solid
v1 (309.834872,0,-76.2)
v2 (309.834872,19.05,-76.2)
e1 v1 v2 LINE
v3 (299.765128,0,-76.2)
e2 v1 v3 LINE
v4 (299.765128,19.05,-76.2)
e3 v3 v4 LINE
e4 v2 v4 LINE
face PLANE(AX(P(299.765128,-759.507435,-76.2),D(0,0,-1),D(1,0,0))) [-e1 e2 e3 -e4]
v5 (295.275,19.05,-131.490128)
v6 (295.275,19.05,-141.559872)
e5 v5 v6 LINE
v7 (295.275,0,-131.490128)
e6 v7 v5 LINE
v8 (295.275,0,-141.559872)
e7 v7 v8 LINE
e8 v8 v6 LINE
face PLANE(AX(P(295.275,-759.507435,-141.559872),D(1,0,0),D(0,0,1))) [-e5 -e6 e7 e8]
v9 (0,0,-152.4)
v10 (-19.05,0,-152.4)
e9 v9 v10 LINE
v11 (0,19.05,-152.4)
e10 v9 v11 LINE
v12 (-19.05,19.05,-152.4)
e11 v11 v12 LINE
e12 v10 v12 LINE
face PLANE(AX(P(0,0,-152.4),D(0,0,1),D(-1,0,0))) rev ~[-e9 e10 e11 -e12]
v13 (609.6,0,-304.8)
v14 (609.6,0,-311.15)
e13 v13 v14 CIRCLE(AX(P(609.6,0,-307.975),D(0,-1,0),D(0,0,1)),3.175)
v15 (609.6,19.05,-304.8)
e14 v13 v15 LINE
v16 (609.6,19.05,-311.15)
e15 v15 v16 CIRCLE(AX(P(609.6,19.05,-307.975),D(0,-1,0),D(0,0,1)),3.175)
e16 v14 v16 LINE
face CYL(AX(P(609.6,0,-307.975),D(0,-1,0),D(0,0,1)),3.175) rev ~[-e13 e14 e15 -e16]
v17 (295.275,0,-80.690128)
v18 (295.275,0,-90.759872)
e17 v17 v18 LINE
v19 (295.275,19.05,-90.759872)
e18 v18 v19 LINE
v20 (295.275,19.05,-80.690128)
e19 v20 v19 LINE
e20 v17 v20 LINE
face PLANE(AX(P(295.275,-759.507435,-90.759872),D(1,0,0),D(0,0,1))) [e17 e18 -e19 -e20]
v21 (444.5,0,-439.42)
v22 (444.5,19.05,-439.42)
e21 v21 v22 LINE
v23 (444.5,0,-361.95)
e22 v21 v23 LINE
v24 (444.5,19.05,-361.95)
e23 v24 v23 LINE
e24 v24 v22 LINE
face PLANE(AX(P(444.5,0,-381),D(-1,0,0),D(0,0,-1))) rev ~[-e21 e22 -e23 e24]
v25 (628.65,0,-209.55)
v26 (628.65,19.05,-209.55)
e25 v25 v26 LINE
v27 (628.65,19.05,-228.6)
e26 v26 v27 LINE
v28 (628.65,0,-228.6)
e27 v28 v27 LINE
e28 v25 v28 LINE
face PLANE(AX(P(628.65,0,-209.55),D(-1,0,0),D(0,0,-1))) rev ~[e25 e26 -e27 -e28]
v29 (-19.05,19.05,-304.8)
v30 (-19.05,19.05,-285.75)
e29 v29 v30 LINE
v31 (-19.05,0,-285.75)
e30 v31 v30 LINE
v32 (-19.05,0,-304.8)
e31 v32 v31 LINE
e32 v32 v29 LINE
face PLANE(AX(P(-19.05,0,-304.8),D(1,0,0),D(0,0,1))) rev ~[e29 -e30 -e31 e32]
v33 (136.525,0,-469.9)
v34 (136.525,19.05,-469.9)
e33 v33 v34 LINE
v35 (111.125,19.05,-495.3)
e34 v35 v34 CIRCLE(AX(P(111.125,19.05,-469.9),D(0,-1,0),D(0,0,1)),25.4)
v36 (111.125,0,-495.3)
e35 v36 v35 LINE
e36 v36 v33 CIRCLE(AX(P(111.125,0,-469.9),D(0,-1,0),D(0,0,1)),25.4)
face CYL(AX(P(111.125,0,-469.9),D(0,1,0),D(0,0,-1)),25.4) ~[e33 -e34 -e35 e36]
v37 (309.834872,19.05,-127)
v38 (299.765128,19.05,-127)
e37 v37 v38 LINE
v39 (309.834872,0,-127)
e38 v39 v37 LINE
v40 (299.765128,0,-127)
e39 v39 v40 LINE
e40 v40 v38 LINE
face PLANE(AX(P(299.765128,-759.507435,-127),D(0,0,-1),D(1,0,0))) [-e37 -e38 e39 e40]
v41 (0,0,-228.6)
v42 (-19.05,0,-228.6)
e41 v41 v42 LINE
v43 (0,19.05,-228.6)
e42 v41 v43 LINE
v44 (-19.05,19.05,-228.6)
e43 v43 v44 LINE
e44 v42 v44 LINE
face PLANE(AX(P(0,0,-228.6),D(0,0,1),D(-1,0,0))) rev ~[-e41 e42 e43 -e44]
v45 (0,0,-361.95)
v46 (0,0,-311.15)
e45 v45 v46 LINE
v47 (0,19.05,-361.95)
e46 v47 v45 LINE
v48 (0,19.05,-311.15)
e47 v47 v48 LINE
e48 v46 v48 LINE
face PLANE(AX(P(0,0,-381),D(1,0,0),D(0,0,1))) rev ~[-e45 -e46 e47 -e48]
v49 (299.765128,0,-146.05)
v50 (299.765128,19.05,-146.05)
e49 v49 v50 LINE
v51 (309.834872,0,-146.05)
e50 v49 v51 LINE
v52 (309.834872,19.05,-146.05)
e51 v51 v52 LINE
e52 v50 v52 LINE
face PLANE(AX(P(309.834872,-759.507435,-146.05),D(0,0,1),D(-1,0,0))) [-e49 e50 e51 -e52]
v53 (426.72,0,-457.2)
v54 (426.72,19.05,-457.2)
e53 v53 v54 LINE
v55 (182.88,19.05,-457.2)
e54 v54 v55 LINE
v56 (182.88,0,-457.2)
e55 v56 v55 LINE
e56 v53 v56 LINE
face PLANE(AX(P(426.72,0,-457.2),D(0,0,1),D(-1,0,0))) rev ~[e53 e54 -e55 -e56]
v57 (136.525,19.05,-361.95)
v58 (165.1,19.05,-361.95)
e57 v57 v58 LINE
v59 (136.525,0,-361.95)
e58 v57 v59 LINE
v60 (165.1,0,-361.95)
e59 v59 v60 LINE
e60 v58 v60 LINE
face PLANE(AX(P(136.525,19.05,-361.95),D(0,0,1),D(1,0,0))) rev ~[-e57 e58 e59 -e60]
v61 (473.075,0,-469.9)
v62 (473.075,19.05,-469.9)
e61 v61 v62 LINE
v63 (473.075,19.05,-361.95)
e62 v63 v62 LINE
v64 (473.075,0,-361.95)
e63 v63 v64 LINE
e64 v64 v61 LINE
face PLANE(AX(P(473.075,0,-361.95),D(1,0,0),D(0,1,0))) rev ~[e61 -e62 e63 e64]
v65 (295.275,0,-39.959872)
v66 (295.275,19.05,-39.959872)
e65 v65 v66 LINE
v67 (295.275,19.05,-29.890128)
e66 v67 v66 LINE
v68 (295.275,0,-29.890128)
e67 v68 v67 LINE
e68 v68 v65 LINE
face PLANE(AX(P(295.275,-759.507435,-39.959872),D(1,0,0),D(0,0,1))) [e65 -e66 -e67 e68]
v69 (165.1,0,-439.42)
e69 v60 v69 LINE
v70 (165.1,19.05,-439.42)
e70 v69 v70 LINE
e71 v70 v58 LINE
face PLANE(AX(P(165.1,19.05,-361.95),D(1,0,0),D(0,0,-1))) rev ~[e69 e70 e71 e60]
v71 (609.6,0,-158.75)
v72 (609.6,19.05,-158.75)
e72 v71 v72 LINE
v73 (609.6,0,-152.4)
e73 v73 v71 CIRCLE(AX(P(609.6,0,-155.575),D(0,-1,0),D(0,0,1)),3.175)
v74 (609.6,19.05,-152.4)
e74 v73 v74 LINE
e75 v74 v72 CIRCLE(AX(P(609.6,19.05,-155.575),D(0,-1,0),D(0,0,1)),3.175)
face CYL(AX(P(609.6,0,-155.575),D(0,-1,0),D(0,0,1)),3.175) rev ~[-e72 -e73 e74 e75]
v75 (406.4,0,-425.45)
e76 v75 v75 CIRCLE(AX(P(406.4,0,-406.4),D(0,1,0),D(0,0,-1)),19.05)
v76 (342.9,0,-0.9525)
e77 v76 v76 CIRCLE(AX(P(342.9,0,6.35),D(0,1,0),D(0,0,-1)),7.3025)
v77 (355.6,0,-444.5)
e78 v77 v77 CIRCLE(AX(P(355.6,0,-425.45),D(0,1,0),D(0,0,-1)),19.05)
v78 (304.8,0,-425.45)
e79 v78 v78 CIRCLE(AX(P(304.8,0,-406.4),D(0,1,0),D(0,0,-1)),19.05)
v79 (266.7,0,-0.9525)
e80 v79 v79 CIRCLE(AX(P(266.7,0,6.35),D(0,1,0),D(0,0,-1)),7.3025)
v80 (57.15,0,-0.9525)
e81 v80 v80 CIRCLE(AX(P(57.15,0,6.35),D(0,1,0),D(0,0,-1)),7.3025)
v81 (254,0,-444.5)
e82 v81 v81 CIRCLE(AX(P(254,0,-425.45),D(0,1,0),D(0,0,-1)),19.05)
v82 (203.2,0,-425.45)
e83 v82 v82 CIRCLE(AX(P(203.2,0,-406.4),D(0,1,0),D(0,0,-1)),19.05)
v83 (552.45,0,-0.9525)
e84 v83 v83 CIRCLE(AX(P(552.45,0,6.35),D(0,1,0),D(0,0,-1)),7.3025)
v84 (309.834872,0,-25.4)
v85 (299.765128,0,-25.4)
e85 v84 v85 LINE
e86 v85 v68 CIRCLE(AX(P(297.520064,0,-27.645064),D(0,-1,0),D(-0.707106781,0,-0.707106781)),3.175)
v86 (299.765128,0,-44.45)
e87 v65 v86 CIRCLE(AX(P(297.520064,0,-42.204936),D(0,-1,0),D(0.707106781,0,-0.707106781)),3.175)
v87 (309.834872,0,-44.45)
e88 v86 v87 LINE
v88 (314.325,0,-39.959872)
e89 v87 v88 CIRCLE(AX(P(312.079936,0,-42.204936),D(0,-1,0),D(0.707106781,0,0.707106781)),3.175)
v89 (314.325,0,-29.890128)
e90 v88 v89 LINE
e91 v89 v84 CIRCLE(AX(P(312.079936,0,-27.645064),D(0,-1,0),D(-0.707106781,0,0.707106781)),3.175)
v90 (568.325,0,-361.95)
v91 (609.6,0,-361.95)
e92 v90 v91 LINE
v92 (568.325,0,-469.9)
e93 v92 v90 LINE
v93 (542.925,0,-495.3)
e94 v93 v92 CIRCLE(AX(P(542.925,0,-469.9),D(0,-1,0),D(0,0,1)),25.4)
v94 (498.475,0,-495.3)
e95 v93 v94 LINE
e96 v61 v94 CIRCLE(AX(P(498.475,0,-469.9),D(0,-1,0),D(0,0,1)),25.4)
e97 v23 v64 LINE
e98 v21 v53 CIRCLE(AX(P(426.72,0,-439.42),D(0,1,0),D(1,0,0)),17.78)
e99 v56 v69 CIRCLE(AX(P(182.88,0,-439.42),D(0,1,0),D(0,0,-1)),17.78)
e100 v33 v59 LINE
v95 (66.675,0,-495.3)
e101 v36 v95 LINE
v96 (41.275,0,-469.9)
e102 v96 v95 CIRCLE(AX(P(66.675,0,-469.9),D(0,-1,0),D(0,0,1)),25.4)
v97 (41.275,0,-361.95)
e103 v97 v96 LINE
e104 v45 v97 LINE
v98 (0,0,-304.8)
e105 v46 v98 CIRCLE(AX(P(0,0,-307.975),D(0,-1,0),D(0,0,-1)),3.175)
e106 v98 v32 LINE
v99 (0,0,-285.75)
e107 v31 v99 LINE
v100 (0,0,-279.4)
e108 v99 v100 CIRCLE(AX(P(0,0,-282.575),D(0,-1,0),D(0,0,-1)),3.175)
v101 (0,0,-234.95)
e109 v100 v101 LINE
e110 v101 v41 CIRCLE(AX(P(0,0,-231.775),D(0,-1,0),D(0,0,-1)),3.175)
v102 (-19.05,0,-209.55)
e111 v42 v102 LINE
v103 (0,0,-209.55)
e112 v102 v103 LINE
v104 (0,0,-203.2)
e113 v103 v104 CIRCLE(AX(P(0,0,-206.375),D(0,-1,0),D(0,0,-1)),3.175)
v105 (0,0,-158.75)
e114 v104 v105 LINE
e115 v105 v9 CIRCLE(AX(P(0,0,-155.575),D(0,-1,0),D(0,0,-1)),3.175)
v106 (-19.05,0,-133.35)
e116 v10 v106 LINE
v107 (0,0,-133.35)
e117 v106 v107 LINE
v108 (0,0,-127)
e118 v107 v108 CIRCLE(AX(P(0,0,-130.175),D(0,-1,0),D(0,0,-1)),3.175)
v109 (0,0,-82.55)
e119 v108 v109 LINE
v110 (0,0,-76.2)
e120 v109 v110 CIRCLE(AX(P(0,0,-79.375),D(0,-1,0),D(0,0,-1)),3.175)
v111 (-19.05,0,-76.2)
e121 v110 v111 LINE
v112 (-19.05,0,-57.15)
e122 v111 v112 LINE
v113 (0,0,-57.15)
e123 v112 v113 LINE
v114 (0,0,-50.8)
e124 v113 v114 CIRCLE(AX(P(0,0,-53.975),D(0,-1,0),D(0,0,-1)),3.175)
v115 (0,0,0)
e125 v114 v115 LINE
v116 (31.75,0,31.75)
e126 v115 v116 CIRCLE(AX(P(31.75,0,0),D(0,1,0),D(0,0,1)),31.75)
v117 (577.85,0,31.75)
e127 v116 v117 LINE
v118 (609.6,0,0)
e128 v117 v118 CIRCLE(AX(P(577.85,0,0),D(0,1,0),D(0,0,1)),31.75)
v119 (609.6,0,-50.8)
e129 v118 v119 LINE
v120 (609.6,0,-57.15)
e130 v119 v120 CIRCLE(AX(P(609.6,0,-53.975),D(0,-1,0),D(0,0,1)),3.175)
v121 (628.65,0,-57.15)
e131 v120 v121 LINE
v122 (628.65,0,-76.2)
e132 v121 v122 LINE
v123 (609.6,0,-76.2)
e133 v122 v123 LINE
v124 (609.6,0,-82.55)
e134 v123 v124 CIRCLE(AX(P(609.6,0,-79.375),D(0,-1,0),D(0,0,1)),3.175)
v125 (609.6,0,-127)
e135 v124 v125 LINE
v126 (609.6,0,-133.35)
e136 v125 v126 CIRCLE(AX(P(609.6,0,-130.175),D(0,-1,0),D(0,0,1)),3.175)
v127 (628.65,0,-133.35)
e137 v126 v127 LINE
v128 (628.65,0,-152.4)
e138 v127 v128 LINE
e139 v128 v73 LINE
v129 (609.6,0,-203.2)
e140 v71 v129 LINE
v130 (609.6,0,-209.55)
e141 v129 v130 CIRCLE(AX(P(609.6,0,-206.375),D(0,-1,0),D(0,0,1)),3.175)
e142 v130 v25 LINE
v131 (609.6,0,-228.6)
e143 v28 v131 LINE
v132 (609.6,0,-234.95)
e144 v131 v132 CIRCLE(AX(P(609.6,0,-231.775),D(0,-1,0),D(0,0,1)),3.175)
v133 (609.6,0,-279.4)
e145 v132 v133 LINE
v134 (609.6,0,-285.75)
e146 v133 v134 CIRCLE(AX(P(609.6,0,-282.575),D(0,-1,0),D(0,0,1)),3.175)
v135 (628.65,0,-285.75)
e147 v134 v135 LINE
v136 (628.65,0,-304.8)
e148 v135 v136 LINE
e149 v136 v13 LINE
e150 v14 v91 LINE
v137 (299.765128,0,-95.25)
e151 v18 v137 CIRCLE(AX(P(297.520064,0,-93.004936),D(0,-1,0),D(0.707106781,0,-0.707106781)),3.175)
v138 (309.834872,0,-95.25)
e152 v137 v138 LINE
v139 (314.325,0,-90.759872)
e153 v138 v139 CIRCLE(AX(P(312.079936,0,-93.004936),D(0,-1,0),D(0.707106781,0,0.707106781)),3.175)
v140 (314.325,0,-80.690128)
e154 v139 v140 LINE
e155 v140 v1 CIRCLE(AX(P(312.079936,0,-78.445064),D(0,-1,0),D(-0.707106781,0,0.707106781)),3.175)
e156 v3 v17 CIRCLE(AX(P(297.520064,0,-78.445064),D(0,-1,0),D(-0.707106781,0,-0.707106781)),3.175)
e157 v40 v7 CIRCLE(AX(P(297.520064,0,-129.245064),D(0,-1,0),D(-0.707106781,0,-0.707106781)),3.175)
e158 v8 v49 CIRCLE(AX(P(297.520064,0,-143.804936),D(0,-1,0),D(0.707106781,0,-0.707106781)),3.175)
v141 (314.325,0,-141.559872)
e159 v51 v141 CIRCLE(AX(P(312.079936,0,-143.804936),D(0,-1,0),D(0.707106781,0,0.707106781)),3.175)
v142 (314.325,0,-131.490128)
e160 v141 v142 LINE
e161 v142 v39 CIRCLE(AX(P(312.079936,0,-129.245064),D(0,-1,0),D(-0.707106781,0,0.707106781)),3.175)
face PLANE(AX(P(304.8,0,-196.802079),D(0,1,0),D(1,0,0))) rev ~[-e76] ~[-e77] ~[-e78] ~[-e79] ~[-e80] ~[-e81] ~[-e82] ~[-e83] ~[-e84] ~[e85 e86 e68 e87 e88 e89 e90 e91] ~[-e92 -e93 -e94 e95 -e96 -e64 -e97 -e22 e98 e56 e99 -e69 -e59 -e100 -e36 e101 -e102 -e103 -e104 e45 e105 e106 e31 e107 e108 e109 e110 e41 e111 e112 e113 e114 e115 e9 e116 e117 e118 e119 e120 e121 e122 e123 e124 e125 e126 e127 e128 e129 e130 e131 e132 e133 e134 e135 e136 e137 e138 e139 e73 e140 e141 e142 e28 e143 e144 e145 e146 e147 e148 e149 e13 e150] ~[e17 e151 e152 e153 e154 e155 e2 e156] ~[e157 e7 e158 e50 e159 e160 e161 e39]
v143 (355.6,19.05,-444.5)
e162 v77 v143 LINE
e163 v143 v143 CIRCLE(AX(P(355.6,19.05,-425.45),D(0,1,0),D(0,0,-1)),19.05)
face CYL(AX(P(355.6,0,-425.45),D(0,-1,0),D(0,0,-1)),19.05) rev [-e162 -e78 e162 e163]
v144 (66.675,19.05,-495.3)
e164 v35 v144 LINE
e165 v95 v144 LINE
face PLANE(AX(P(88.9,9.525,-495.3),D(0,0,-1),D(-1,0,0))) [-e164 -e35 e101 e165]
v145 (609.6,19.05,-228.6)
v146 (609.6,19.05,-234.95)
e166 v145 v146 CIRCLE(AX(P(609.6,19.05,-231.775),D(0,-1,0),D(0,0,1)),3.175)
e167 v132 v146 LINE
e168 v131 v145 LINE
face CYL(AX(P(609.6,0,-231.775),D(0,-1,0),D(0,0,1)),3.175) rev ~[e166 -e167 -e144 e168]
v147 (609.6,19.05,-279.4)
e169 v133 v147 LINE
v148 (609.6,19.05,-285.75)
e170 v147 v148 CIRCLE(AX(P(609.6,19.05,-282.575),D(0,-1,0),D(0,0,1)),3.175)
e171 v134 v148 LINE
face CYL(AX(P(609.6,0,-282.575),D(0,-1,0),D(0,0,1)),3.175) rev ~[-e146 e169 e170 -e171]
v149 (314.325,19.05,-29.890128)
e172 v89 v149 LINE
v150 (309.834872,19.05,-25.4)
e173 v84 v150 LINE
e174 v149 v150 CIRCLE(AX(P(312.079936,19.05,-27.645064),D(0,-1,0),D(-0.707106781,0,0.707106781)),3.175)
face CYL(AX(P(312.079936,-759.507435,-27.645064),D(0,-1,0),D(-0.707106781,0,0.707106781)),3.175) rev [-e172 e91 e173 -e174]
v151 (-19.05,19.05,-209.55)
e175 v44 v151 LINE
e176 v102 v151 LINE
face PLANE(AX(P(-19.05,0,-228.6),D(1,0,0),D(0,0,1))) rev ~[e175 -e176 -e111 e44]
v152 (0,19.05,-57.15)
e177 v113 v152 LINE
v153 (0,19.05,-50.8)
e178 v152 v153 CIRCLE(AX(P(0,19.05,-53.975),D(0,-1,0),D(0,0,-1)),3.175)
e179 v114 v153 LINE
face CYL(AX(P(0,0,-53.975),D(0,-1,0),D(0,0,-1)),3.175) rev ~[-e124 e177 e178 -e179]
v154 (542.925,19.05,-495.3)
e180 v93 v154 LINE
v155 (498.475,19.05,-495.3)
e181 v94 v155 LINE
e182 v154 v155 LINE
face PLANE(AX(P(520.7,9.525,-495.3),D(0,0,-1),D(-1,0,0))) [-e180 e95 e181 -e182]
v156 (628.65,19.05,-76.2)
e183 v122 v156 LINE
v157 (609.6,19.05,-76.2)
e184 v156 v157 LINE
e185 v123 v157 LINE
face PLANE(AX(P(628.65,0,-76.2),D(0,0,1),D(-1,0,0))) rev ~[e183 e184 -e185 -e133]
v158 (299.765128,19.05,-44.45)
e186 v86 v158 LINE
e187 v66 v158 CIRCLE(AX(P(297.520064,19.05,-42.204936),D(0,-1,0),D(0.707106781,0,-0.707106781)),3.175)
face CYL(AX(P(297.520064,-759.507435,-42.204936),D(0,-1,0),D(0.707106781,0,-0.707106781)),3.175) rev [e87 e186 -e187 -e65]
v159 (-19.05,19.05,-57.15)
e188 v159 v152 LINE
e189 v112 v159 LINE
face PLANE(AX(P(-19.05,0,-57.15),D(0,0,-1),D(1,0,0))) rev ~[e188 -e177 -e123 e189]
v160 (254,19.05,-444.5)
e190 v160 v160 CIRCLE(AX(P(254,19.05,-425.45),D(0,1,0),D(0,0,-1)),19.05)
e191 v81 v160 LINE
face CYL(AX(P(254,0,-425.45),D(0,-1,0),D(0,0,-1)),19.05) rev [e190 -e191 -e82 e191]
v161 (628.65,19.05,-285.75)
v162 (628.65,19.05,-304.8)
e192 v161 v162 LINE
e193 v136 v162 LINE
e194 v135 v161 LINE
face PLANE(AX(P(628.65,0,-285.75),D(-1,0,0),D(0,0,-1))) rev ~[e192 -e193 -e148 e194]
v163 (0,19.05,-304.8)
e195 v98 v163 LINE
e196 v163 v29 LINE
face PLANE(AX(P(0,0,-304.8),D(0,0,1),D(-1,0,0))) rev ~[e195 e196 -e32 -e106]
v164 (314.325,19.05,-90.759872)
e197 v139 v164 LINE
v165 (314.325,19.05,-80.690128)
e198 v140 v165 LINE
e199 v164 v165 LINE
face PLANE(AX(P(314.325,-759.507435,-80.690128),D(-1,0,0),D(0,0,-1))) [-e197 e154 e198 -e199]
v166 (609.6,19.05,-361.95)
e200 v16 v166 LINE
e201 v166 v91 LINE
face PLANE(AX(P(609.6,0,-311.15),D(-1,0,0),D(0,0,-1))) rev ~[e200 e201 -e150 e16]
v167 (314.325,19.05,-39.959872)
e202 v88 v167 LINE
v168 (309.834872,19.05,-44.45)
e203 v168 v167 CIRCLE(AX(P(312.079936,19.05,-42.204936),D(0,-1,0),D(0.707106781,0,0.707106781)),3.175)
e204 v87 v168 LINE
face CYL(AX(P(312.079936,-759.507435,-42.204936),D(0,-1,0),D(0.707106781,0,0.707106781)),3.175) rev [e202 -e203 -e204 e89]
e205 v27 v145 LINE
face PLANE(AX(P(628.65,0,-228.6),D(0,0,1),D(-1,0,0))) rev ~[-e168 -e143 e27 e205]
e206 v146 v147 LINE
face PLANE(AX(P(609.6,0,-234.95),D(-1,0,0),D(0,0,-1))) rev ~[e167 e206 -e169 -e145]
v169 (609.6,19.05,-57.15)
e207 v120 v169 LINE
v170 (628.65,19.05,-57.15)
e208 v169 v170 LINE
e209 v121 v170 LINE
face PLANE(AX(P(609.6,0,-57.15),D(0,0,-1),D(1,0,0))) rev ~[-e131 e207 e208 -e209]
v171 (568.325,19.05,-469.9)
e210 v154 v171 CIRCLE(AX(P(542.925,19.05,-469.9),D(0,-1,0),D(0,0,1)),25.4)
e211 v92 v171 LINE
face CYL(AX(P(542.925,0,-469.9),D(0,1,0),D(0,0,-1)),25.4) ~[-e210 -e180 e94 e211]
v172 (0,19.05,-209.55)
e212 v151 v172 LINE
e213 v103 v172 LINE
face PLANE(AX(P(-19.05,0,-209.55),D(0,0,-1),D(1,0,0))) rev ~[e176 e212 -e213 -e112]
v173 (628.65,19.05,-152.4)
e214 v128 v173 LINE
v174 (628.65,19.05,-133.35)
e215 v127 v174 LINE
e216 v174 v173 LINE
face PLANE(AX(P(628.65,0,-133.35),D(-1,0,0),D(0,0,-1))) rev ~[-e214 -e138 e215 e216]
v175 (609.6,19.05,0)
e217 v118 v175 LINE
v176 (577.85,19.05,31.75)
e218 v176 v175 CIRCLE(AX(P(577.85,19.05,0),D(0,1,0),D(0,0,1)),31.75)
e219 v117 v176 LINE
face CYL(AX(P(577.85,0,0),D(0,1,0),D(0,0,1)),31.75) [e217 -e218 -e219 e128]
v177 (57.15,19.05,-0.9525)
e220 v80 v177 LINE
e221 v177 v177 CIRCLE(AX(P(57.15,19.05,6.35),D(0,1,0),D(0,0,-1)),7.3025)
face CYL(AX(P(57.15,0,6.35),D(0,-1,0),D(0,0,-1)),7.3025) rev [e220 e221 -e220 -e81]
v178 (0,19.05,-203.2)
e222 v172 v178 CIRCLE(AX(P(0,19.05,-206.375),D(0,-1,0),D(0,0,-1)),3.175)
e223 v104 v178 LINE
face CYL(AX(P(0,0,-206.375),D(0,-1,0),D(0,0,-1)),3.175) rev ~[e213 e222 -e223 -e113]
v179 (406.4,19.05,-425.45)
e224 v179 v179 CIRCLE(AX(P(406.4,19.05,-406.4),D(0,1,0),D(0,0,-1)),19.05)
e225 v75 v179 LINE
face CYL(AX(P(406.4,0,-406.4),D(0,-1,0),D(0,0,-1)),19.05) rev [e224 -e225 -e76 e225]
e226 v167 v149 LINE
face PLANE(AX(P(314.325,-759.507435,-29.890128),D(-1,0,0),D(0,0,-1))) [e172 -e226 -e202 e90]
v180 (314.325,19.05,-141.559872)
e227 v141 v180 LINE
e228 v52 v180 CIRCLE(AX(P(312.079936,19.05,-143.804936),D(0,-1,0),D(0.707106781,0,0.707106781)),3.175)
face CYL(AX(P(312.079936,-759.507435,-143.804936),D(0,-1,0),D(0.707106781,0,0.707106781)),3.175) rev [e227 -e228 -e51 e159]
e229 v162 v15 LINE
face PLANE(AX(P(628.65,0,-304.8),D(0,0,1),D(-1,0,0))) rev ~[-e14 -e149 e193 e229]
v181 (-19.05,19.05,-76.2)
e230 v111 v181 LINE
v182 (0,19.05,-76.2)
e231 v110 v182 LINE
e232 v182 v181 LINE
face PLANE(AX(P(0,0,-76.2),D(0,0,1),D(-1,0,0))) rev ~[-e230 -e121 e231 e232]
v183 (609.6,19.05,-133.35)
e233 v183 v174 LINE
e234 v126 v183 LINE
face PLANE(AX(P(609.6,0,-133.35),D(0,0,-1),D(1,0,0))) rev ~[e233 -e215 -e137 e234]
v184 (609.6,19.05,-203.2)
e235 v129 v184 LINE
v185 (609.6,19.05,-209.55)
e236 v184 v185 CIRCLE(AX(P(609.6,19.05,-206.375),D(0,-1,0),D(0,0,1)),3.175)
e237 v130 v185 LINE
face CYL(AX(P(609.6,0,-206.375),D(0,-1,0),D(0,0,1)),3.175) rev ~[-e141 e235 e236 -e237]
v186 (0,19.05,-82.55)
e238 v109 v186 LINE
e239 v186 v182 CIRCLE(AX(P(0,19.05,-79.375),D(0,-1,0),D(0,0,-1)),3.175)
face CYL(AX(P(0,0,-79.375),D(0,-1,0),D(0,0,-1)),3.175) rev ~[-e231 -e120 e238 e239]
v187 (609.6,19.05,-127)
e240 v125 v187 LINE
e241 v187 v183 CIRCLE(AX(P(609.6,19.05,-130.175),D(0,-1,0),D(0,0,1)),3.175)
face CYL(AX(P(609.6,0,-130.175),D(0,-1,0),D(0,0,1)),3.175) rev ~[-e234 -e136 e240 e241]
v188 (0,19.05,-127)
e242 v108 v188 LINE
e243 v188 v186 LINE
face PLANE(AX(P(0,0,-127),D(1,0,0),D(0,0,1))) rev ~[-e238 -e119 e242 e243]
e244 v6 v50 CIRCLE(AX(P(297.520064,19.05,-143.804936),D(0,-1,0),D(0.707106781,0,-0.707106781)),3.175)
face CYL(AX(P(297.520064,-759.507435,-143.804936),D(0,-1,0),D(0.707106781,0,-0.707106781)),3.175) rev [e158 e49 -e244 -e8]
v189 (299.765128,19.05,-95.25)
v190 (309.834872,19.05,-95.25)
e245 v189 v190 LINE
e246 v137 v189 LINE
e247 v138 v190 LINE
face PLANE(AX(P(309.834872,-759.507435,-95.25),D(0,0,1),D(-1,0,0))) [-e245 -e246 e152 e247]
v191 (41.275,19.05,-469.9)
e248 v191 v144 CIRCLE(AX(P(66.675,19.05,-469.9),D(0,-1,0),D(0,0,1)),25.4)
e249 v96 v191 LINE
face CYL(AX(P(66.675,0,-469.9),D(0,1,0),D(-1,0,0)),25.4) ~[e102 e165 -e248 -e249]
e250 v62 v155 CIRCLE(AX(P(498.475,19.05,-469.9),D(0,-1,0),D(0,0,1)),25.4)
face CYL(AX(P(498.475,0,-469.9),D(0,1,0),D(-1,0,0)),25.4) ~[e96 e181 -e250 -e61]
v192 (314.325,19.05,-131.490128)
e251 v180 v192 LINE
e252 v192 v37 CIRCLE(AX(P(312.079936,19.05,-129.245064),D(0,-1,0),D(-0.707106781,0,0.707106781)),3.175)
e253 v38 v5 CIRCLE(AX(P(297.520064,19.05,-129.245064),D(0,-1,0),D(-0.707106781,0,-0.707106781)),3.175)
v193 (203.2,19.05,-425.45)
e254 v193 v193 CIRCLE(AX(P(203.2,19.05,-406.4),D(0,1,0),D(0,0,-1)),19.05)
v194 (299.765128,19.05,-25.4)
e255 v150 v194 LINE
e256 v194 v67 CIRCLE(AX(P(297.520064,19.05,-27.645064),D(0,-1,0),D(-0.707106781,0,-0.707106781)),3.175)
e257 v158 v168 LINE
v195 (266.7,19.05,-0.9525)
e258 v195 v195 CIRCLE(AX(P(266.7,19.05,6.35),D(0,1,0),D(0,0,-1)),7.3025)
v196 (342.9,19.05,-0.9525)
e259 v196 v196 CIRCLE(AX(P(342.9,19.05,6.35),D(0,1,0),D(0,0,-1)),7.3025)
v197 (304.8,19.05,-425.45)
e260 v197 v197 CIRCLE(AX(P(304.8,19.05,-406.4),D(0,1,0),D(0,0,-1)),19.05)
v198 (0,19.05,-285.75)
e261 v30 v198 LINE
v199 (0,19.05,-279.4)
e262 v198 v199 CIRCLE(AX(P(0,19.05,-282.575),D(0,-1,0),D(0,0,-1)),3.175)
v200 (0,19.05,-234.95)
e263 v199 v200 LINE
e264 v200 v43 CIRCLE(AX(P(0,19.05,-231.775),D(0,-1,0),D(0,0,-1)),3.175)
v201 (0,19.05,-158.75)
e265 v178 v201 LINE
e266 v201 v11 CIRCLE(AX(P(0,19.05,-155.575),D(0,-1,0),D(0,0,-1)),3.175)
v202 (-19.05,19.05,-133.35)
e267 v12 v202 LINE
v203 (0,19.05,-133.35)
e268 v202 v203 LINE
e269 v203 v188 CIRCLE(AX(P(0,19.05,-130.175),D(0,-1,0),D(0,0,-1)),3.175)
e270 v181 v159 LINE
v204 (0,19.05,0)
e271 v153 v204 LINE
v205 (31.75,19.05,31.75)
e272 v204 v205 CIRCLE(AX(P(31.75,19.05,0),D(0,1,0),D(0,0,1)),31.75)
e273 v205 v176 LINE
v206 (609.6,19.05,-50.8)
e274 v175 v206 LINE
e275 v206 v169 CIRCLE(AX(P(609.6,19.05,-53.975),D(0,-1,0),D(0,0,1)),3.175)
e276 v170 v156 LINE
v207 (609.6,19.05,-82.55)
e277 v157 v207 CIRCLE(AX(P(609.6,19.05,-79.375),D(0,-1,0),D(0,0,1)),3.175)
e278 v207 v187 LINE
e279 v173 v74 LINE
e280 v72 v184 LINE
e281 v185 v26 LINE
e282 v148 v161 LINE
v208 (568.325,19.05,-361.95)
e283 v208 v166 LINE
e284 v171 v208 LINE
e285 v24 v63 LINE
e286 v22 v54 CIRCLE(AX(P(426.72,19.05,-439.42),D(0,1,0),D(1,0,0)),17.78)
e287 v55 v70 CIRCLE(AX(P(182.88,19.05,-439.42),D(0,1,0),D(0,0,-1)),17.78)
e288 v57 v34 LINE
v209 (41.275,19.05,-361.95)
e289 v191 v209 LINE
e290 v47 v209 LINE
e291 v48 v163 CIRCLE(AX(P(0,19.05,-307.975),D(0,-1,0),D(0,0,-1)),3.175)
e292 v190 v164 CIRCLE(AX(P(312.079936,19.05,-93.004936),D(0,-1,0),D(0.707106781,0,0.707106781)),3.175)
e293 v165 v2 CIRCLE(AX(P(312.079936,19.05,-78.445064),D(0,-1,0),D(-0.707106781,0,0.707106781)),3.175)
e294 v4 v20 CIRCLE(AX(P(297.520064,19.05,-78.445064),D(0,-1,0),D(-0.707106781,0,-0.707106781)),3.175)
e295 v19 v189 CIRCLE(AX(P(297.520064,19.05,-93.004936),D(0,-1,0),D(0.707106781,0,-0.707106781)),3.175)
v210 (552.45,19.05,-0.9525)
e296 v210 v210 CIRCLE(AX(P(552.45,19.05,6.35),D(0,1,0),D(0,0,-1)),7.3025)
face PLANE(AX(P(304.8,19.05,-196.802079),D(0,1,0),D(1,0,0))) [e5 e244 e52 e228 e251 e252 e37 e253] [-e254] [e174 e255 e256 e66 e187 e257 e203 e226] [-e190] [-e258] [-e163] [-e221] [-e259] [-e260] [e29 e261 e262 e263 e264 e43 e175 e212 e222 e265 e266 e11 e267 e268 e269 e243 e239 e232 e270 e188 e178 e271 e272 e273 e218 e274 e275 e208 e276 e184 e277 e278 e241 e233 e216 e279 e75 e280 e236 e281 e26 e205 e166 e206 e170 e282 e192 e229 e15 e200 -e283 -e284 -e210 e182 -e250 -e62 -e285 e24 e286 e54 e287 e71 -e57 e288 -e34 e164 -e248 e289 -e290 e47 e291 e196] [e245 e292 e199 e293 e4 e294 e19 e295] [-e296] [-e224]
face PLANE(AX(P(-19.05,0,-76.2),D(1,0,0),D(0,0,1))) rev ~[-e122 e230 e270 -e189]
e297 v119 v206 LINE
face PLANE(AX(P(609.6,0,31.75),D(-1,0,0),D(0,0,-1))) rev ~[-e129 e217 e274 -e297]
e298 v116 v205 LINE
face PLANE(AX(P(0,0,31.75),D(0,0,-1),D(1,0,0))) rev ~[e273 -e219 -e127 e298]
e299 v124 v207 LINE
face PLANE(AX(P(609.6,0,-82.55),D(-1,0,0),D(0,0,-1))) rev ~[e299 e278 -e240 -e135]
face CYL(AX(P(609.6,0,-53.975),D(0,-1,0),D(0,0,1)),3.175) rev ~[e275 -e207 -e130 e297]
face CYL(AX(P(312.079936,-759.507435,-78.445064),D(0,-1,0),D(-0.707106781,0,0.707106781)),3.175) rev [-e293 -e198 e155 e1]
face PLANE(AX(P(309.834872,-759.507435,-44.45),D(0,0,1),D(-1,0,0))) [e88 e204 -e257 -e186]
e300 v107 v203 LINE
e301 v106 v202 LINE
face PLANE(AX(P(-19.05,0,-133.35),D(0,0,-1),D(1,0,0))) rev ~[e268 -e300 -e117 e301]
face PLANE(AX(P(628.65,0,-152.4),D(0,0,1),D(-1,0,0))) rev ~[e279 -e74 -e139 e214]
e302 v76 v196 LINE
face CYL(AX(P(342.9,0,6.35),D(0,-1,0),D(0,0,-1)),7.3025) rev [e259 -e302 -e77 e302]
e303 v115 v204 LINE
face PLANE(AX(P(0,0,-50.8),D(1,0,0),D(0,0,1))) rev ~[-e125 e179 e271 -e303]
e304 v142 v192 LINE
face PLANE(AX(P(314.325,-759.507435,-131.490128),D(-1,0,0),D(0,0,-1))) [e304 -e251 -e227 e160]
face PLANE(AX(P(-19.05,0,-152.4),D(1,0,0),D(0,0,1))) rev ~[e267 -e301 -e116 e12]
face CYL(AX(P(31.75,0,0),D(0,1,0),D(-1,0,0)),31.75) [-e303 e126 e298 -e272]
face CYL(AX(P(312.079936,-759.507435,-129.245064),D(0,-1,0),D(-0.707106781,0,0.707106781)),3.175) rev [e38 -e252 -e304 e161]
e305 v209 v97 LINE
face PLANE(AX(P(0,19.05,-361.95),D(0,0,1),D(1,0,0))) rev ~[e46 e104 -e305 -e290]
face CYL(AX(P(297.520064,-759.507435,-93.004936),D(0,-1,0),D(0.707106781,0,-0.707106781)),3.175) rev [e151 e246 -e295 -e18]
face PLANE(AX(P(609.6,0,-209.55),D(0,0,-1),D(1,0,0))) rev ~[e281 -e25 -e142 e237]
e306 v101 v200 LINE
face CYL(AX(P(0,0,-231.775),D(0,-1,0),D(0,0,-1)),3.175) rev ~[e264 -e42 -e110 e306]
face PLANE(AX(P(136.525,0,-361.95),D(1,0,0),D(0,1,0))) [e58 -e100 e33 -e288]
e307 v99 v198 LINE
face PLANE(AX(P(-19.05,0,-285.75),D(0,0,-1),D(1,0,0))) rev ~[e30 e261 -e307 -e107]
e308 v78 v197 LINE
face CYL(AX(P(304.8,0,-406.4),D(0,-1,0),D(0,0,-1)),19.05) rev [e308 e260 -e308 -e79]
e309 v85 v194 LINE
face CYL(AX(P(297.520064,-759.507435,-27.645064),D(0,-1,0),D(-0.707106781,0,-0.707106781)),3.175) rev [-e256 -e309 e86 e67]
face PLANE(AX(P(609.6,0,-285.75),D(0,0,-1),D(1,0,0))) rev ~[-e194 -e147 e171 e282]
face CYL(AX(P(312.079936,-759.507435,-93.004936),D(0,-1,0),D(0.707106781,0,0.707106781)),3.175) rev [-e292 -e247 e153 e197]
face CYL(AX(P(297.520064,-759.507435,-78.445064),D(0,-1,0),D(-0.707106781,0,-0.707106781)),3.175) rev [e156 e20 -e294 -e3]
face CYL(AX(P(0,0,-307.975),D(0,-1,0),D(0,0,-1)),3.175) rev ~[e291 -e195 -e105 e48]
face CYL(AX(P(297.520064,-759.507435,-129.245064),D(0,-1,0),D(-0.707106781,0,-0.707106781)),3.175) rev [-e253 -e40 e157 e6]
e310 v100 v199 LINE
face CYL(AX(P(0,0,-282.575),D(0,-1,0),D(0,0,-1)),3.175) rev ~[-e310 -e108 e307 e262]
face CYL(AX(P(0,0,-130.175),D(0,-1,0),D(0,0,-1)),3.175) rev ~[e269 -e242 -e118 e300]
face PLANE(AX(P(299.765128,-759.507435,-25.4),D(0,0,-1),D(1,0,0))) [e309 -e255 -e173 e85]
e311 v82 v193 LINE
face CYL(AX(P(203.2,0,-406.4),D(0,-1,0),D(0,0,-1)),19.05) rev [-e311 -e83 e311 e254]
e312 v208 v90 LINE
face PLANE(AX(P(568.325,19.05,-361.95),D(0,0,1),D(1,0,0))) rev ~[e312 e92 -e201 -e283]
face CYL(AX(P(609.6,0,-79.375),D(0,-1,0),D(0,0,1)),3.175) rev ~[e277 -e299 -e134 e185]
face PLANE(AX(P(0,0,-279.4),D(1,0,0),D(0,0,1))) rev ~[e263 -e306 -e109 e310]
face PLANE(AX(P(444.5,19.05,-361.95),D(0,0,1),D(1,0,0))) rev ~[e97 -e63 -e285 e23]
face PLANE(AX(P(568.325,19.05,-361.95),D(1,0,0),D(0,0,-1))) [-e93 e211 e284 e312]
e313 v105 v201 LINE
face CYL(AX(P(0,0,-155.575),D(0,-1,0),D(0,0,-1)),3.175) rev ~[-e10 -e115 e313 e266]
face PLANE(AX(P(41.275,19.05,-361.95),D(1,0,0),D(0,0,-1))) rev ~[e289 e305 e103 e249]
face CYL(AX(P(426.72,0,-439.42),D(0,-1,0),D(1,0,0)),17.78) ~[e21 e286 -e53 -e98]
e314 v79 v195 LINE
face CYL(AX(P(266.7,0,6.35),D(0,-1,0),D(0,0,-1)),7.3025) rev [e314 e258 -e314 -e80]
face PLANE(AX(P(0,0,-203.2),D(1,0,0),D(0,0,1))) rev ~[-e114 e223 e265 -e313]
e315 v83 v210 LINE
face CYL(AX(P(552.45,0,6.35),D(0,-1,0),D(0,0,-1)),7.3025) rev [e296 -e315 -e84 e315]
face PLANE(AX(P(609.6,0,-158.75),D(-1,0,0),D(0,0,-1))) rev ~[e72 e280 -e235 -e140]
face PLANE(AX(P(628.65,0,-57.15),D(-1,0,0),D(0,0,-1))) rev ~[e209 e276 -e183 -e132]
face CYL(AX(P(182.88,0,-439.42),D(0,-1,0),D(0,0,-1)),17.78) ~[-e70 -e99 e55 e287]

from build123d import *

# Parameters (mm, degrees)
SKETCH_S_R              = 7.3025
SKETCH_S_R_2            = 19.05
BOSS_EXTRUDE1_DEPTH     = 19.05
FILLET1_R               = 31.75
CUT_EXTRUDE1_DEPTH      = 778.557435178
CUT_EXTRUDE1_DEPTH_BACK = 778.557435178
SKETCH4_W               = 41.275
SKETCH4_H               = 19.05
SKETCH4_W_2             = 57.15
SKETCH4_W_3             = 28.575
CUT_EXTRUDE2_DEPTH      = 19.05
SKETCH5_W               = 95.25
SKETCH5_H               = 19.05
BOSS_EXTRUDE2_DEPTH     = 133.35
FILLET2_R               = 25.4


with BuildPart() as part:
    # Sketch s → Boss-Extrude1 (new body)
    with BuildSketch(Plane(origin=(0, 0, 0), x_dir=(1, 0, 0), z_dir=(0, 1, 0))):
        with BuildLine():
            Line((0, 50.8), (0, 0))
            Line((0, 0), (0, -31.75))
            Line((0, -31.75), (609.6, -31.75))
            Line((609.6, -31.75), (609.6, 0))
            Line((609.6, 0), (609.6, 50.8))
            ThreePointArc((609.6, 50.8), (606.425, 53.975), (609.6, 57.15))
            Line((609.6, 57.15), (628.65, 57.15))
            Line((628.65, 57.15), (628.65, 76.2))
            Line((628.65, 76.2), (609.6, 76.2))
            ThreePointArc((609.6, 76.2), (606.425, 79.375), (609.6, 82.55))
            Line((609.6, 82.55), (609.6, 127))
            ThreePointArc((609.6, 127), (606.425, 130.175), (609.6, 133.35))
            Line((609.6, 133.35), (628.65, 133.35))
            Line((628.65, 133.35), (628.65, 152.4))
            Line((628.65, 152.4), (609.6, 152.4))
            ThreePointArc((609.6, 152.4), (606.425, 155.575), (609.6, 158.75))
            Line((609.6, 158.75), (609.6, 203.2))
            ThreePointArc((609.6, 203.2), (606.425, 206.375), (609.6, 209.55))
            Line((609.6, 209.55), (628.65, 209.55))
            Line((628.65, 209.55), (628.65, 228.6))
            Line((628.65, 228.6), (609.6, 228.6))
            ThreePointArc((609.6, 228.6), (606.425, 231.775), (609.6, 234.95))
            Line((609.6, 234.95), (609.6, 279.4))
            ThreePointArc((609.6, 279.4), (606.425, 282.575), (609.6, 285.75))
            Line((609.6, 285.75), (628.65, 285.75))
            Line((628.65, 285.75), (628.65, 304.8))
            Line((628.65, 304.8), (609.6, 304.8))
            ThreePointArc((609.6, 304.8), (606.425, 307.975), (609.6, 311.15))
            Line((609.6, 311.15), (609.6, 381))
            Line((609.6, 381), (444.5, 381))
            Line((444.5, 381), (444.5, 439.42))
            ThreePointArc((444.5, 439.42), (439.292358569, 451.992358569), (426.72, 457.2))
            Line((426.72, 457.2), (304.8, 457.2))
            Line((304.8, 457.2), (182.88, 457.2))
            ThreePointArc((182.88, 457.2), (170.307641431, 451.992358569), (165.1, 439.42))
            Line((165.1, 439.42), (165.1, 381))
            Line((165.1, 381), (0, 381))
            Line((0, 381), (0, 311.15))
            ThreePointArc((0, 311.15), (3.175, 307.975), (0, 304.8))
            Line((0, 304.8), (-19.05, 304.8))
            Line((-19.05, 304.8), (-19.05, 285.75))
            Line((-19.05, 285.75), (0, 285.75))
            ThreePointArc((0, 285.75), (3.175, 282.575), (0, 279.4))
            Line((0, 279.4), (0, 234.95))
            ThreePointArc((0, 234.95), (3.175, 231.775), (0, 228.6))
            Line((0, 228.6), (-19.05, 228.6))
            Line((-19.05, 228.6), (-19.05, 209.55))
            Line((-19.05, 209.55), (0, 209.55))
            ThreePointArc((0, 209.55), (3.175, 206.375), (0, 203.2))
            Line((0, 203.2), (0, 158.75))
            ThreePointArc((0, 158.75), (3.175, 155.575), (0, 152.4))
            Line((0, 152.4), (-19.05, 152.4))
            Line((-19.05, 152.4), (-19.05, 133.35))
            Line((-19.05, 133.35), (0, 133.35))
            ThreePointArc((0, 133.35), (3.175, 130.175), (0, 127))
            Line((0, 127), (0, 82.55))
            ThreePointArc((0, 82.55), (3.175, 79.375), (0, 76.2))
            Line((0, 76.2), (-19.05, 76.2))
            Line((-19.05, 76.2), (-19.05, 57.15))
            Line((-19.05, 57.15), (0, 57.15))
            ThreePointArc((0, 57.15), (3.175, 53.975), (0, 50.8))
        make_face()
        with Locations(Location((57.15, -6.35, 0), (0, 0, 90))):
            Circle(SKETCH_S_R, mode=Mode.SUBTRACT)
        with Locations(Location((266.7, -6.35, 0), (0, 0, 90))):
            Circle(SKETCH_S_R, mode=Mode.SUBTRACT)
        with Locations(Location((342.9, -6.35, 0), (0, 0, 90))):
            Circle(SKETCH_S_R, mode=Mode.SUBTRACT)
        with Locations(Location((552.45, -6.35, 0), (0, 0, 90))):
            Circle(SKETCH_S_R, mode=Mode.SUBTRACT)
        with Locations(Location((203.2, 406.4, 0), (0, 0, 90))):
            Circle(SKETCH_S_R_2, mode=Mode.SUBTRACT)
        with Locations(Location((254, 425.45, 0), (0, 0, 90))):
            Circle(SKETCH_S_R_2, mode=Mode.SUBTRACT)
        with Locations(Location((304.8, 406.4, 0), (0, 0, 90))):
            Circle(SKETCH_S_R_2, mode=Mode.SUBTRACT)
        with Locations(Location((355.6, 425.45, 0), (0, 0, 90))):
            Circle(SKETCH_S_R_2, mode=Mode.SUBTRACT)
        with Locations(Location((406.4, 406.4, 0), (0, 0, 90))):
            Circle(SKETCH_S_R_2, mode=Mode.SUBTRACT)
    extrude(amount=BOSS_EXTRUDE1_DEPTH)

    # Fillet1
    fillet1_edges = [part.edges().sort_by_distance(p)[0] for p in [
        (609.6, 9.525, 31.75),
        (0, 9.525, 31.75),
    ]]
    fillet(fillet1_edges, radius=FILLET1_R)

    # Sketch3 → Cut-Extrude1 (cut, two sides: drawn at the far end of the back side and taken through both)
    with BuildSketch(Plane(origin=(0, 19.05, 0), x_dir=(1, 0, 0), z_dir=(0, 1, 0)).offset(-CUT_EXTRUDE1_DEPTH_BACK)):
        with BuildLine():
            Line((314.325, 131.490128061), (314.325, 141.559871939))
            ThreePointArc((314.325, 141.559871939), (314.325, 146.05), (309.834871939, 146.05))
            Line((309.834871939, 146.05), (299.765128061, 146.05))
            ThreePointArc((299.765128061, 146.05), (295.275, 146.05), (295.275, 141.559871939))
            Line((295.275, 141.559871939), (295.275, 131.490128061))
            ThreePointArc((295.275, 131.490128061), (295.275, 127), (299.765128061, 127))
            Line((299.765128061, 127), (309.834871939, 127))
            ThreePointArc((309.834871939, 127), (314.325, 127), (314.325, 131.490128061))
        make_face()
        with BuildLine():
            Line((314.325, 80.690128061), (314.325, 90.759871939))
            ThreePointArc((314.325, 90.759871939), (314.325, 95.25), (309.834871939, 95.25))
            Line((309.834871939, 95.25), (299.765128061, 95.25))
            ThreePointArc((299.765128061, 95.25), (295.275, 95.25), (295.275, 90.759871939))
            Line((295.275, 90.759871939), (295.275, 80.690128061))
            ThreePointArc((295.275, 80.690128061), (295.275, 76.2), (299.765128061, 76.2))
            Line((299.765128061, 76.2), (309.834871939, 76.2))
            ThreePointArc((309.834871939, 76.2), (314.325, 76.2), (314.325, 80.690128061))
        make_face()
        with BuildLine():
            Line((314.325, 29.890128061), (314.325, 39.959871939))
            ThreePointArc((314.325, 39.959871939), (314.325, 44.45), (309.834871939, 44.45))
            Line((309.834871939, 44.45), (299.765128061, 44.45))
            ThreePointArc((299.765128061, 44.45), (295.275, 44.45), (295.275, 39.959871939))
            Line((295.275, 39.959871939), (295.275, 29.890128061))
            ThreePointArc((295.275, 29.890128061), (295.275, 25.4), (299.765128061, 25.4))
            Line((299.765128061, 25.4), (309.834871939, 25.4))
            ThreePointArc((309.834871939, 25.4), (314.325, 25.4), (314.325, 29.890128061))
        make_face()
    extrude(amount=CUT_EXTRUDE1_DEPTH + CUT_EXTRUDE1_DEPTH_BACK, mode=Mode.SUBTRACT)

    # Sketch4 → Cut-Extrude2 (cut)
    with BuildSketch(Plane(origin=(0, 19.05, 0), x_dir=(1, 0, 0), z_dir=(0, 1, 0))):
        with Locations((20.6375, 371.475)):
            Rectangle(SKETCH4_W, SKETCH4_H)
        with Locations((88.9, 371.475)):
            Rectangle(SKETCH4_W_2, SKETCH4_H)
        with Locations((150.8125, 371.475)):
            Rectangle(SKETCH4_W_3, SKETCH4_H)
        with Locations((458.7875, 371.475)):
            Rectangle(SKETCH4_W_3, SKETCH4_H)
        with Locations((520.7, 371.475)):
            Rectangle(SKETCH4_W_2, SKETCH4_H)
        with Locations((588.9625, 371.475)):
            Rectangle(SKETCH4_W, SKETCH4_H)
    extrude(amount=-CUT_EXTRUDE2_DEPTH, mode=Mode.SUBTRACT)

    # Sketch5 → Boss-Extrude2 (add)
    with BuildSketch(Plane(origin=(0, 0, -361.95), x_dir=(-1, 0, 0), z_dir=(0, 0, -1))):
        with Locations((-520.7, 9.525)):
            Rectangle(SKETCH5_W, SKETCH5_H)
        with Locations((-88.9, 9.525)):
            Rectangle(SKETCH5_W, SKETCH5_H)
    extrude(amount=BOSS_EXTRUDE2_DEPTH)

    # Fillet2
    fillet2_edges = [part.edges().sort_by_distance(p)[0] for p in [
        (568.325, 9.525, -495.3),
        (473.075, 9.525, -495.3),
        (136.525, 9.525, -495.3),
        (41.275, 9.525, -495.3),
    ]]
    fillet(fillet2_edges, radius=FILLET2_R)


solid = part.part
